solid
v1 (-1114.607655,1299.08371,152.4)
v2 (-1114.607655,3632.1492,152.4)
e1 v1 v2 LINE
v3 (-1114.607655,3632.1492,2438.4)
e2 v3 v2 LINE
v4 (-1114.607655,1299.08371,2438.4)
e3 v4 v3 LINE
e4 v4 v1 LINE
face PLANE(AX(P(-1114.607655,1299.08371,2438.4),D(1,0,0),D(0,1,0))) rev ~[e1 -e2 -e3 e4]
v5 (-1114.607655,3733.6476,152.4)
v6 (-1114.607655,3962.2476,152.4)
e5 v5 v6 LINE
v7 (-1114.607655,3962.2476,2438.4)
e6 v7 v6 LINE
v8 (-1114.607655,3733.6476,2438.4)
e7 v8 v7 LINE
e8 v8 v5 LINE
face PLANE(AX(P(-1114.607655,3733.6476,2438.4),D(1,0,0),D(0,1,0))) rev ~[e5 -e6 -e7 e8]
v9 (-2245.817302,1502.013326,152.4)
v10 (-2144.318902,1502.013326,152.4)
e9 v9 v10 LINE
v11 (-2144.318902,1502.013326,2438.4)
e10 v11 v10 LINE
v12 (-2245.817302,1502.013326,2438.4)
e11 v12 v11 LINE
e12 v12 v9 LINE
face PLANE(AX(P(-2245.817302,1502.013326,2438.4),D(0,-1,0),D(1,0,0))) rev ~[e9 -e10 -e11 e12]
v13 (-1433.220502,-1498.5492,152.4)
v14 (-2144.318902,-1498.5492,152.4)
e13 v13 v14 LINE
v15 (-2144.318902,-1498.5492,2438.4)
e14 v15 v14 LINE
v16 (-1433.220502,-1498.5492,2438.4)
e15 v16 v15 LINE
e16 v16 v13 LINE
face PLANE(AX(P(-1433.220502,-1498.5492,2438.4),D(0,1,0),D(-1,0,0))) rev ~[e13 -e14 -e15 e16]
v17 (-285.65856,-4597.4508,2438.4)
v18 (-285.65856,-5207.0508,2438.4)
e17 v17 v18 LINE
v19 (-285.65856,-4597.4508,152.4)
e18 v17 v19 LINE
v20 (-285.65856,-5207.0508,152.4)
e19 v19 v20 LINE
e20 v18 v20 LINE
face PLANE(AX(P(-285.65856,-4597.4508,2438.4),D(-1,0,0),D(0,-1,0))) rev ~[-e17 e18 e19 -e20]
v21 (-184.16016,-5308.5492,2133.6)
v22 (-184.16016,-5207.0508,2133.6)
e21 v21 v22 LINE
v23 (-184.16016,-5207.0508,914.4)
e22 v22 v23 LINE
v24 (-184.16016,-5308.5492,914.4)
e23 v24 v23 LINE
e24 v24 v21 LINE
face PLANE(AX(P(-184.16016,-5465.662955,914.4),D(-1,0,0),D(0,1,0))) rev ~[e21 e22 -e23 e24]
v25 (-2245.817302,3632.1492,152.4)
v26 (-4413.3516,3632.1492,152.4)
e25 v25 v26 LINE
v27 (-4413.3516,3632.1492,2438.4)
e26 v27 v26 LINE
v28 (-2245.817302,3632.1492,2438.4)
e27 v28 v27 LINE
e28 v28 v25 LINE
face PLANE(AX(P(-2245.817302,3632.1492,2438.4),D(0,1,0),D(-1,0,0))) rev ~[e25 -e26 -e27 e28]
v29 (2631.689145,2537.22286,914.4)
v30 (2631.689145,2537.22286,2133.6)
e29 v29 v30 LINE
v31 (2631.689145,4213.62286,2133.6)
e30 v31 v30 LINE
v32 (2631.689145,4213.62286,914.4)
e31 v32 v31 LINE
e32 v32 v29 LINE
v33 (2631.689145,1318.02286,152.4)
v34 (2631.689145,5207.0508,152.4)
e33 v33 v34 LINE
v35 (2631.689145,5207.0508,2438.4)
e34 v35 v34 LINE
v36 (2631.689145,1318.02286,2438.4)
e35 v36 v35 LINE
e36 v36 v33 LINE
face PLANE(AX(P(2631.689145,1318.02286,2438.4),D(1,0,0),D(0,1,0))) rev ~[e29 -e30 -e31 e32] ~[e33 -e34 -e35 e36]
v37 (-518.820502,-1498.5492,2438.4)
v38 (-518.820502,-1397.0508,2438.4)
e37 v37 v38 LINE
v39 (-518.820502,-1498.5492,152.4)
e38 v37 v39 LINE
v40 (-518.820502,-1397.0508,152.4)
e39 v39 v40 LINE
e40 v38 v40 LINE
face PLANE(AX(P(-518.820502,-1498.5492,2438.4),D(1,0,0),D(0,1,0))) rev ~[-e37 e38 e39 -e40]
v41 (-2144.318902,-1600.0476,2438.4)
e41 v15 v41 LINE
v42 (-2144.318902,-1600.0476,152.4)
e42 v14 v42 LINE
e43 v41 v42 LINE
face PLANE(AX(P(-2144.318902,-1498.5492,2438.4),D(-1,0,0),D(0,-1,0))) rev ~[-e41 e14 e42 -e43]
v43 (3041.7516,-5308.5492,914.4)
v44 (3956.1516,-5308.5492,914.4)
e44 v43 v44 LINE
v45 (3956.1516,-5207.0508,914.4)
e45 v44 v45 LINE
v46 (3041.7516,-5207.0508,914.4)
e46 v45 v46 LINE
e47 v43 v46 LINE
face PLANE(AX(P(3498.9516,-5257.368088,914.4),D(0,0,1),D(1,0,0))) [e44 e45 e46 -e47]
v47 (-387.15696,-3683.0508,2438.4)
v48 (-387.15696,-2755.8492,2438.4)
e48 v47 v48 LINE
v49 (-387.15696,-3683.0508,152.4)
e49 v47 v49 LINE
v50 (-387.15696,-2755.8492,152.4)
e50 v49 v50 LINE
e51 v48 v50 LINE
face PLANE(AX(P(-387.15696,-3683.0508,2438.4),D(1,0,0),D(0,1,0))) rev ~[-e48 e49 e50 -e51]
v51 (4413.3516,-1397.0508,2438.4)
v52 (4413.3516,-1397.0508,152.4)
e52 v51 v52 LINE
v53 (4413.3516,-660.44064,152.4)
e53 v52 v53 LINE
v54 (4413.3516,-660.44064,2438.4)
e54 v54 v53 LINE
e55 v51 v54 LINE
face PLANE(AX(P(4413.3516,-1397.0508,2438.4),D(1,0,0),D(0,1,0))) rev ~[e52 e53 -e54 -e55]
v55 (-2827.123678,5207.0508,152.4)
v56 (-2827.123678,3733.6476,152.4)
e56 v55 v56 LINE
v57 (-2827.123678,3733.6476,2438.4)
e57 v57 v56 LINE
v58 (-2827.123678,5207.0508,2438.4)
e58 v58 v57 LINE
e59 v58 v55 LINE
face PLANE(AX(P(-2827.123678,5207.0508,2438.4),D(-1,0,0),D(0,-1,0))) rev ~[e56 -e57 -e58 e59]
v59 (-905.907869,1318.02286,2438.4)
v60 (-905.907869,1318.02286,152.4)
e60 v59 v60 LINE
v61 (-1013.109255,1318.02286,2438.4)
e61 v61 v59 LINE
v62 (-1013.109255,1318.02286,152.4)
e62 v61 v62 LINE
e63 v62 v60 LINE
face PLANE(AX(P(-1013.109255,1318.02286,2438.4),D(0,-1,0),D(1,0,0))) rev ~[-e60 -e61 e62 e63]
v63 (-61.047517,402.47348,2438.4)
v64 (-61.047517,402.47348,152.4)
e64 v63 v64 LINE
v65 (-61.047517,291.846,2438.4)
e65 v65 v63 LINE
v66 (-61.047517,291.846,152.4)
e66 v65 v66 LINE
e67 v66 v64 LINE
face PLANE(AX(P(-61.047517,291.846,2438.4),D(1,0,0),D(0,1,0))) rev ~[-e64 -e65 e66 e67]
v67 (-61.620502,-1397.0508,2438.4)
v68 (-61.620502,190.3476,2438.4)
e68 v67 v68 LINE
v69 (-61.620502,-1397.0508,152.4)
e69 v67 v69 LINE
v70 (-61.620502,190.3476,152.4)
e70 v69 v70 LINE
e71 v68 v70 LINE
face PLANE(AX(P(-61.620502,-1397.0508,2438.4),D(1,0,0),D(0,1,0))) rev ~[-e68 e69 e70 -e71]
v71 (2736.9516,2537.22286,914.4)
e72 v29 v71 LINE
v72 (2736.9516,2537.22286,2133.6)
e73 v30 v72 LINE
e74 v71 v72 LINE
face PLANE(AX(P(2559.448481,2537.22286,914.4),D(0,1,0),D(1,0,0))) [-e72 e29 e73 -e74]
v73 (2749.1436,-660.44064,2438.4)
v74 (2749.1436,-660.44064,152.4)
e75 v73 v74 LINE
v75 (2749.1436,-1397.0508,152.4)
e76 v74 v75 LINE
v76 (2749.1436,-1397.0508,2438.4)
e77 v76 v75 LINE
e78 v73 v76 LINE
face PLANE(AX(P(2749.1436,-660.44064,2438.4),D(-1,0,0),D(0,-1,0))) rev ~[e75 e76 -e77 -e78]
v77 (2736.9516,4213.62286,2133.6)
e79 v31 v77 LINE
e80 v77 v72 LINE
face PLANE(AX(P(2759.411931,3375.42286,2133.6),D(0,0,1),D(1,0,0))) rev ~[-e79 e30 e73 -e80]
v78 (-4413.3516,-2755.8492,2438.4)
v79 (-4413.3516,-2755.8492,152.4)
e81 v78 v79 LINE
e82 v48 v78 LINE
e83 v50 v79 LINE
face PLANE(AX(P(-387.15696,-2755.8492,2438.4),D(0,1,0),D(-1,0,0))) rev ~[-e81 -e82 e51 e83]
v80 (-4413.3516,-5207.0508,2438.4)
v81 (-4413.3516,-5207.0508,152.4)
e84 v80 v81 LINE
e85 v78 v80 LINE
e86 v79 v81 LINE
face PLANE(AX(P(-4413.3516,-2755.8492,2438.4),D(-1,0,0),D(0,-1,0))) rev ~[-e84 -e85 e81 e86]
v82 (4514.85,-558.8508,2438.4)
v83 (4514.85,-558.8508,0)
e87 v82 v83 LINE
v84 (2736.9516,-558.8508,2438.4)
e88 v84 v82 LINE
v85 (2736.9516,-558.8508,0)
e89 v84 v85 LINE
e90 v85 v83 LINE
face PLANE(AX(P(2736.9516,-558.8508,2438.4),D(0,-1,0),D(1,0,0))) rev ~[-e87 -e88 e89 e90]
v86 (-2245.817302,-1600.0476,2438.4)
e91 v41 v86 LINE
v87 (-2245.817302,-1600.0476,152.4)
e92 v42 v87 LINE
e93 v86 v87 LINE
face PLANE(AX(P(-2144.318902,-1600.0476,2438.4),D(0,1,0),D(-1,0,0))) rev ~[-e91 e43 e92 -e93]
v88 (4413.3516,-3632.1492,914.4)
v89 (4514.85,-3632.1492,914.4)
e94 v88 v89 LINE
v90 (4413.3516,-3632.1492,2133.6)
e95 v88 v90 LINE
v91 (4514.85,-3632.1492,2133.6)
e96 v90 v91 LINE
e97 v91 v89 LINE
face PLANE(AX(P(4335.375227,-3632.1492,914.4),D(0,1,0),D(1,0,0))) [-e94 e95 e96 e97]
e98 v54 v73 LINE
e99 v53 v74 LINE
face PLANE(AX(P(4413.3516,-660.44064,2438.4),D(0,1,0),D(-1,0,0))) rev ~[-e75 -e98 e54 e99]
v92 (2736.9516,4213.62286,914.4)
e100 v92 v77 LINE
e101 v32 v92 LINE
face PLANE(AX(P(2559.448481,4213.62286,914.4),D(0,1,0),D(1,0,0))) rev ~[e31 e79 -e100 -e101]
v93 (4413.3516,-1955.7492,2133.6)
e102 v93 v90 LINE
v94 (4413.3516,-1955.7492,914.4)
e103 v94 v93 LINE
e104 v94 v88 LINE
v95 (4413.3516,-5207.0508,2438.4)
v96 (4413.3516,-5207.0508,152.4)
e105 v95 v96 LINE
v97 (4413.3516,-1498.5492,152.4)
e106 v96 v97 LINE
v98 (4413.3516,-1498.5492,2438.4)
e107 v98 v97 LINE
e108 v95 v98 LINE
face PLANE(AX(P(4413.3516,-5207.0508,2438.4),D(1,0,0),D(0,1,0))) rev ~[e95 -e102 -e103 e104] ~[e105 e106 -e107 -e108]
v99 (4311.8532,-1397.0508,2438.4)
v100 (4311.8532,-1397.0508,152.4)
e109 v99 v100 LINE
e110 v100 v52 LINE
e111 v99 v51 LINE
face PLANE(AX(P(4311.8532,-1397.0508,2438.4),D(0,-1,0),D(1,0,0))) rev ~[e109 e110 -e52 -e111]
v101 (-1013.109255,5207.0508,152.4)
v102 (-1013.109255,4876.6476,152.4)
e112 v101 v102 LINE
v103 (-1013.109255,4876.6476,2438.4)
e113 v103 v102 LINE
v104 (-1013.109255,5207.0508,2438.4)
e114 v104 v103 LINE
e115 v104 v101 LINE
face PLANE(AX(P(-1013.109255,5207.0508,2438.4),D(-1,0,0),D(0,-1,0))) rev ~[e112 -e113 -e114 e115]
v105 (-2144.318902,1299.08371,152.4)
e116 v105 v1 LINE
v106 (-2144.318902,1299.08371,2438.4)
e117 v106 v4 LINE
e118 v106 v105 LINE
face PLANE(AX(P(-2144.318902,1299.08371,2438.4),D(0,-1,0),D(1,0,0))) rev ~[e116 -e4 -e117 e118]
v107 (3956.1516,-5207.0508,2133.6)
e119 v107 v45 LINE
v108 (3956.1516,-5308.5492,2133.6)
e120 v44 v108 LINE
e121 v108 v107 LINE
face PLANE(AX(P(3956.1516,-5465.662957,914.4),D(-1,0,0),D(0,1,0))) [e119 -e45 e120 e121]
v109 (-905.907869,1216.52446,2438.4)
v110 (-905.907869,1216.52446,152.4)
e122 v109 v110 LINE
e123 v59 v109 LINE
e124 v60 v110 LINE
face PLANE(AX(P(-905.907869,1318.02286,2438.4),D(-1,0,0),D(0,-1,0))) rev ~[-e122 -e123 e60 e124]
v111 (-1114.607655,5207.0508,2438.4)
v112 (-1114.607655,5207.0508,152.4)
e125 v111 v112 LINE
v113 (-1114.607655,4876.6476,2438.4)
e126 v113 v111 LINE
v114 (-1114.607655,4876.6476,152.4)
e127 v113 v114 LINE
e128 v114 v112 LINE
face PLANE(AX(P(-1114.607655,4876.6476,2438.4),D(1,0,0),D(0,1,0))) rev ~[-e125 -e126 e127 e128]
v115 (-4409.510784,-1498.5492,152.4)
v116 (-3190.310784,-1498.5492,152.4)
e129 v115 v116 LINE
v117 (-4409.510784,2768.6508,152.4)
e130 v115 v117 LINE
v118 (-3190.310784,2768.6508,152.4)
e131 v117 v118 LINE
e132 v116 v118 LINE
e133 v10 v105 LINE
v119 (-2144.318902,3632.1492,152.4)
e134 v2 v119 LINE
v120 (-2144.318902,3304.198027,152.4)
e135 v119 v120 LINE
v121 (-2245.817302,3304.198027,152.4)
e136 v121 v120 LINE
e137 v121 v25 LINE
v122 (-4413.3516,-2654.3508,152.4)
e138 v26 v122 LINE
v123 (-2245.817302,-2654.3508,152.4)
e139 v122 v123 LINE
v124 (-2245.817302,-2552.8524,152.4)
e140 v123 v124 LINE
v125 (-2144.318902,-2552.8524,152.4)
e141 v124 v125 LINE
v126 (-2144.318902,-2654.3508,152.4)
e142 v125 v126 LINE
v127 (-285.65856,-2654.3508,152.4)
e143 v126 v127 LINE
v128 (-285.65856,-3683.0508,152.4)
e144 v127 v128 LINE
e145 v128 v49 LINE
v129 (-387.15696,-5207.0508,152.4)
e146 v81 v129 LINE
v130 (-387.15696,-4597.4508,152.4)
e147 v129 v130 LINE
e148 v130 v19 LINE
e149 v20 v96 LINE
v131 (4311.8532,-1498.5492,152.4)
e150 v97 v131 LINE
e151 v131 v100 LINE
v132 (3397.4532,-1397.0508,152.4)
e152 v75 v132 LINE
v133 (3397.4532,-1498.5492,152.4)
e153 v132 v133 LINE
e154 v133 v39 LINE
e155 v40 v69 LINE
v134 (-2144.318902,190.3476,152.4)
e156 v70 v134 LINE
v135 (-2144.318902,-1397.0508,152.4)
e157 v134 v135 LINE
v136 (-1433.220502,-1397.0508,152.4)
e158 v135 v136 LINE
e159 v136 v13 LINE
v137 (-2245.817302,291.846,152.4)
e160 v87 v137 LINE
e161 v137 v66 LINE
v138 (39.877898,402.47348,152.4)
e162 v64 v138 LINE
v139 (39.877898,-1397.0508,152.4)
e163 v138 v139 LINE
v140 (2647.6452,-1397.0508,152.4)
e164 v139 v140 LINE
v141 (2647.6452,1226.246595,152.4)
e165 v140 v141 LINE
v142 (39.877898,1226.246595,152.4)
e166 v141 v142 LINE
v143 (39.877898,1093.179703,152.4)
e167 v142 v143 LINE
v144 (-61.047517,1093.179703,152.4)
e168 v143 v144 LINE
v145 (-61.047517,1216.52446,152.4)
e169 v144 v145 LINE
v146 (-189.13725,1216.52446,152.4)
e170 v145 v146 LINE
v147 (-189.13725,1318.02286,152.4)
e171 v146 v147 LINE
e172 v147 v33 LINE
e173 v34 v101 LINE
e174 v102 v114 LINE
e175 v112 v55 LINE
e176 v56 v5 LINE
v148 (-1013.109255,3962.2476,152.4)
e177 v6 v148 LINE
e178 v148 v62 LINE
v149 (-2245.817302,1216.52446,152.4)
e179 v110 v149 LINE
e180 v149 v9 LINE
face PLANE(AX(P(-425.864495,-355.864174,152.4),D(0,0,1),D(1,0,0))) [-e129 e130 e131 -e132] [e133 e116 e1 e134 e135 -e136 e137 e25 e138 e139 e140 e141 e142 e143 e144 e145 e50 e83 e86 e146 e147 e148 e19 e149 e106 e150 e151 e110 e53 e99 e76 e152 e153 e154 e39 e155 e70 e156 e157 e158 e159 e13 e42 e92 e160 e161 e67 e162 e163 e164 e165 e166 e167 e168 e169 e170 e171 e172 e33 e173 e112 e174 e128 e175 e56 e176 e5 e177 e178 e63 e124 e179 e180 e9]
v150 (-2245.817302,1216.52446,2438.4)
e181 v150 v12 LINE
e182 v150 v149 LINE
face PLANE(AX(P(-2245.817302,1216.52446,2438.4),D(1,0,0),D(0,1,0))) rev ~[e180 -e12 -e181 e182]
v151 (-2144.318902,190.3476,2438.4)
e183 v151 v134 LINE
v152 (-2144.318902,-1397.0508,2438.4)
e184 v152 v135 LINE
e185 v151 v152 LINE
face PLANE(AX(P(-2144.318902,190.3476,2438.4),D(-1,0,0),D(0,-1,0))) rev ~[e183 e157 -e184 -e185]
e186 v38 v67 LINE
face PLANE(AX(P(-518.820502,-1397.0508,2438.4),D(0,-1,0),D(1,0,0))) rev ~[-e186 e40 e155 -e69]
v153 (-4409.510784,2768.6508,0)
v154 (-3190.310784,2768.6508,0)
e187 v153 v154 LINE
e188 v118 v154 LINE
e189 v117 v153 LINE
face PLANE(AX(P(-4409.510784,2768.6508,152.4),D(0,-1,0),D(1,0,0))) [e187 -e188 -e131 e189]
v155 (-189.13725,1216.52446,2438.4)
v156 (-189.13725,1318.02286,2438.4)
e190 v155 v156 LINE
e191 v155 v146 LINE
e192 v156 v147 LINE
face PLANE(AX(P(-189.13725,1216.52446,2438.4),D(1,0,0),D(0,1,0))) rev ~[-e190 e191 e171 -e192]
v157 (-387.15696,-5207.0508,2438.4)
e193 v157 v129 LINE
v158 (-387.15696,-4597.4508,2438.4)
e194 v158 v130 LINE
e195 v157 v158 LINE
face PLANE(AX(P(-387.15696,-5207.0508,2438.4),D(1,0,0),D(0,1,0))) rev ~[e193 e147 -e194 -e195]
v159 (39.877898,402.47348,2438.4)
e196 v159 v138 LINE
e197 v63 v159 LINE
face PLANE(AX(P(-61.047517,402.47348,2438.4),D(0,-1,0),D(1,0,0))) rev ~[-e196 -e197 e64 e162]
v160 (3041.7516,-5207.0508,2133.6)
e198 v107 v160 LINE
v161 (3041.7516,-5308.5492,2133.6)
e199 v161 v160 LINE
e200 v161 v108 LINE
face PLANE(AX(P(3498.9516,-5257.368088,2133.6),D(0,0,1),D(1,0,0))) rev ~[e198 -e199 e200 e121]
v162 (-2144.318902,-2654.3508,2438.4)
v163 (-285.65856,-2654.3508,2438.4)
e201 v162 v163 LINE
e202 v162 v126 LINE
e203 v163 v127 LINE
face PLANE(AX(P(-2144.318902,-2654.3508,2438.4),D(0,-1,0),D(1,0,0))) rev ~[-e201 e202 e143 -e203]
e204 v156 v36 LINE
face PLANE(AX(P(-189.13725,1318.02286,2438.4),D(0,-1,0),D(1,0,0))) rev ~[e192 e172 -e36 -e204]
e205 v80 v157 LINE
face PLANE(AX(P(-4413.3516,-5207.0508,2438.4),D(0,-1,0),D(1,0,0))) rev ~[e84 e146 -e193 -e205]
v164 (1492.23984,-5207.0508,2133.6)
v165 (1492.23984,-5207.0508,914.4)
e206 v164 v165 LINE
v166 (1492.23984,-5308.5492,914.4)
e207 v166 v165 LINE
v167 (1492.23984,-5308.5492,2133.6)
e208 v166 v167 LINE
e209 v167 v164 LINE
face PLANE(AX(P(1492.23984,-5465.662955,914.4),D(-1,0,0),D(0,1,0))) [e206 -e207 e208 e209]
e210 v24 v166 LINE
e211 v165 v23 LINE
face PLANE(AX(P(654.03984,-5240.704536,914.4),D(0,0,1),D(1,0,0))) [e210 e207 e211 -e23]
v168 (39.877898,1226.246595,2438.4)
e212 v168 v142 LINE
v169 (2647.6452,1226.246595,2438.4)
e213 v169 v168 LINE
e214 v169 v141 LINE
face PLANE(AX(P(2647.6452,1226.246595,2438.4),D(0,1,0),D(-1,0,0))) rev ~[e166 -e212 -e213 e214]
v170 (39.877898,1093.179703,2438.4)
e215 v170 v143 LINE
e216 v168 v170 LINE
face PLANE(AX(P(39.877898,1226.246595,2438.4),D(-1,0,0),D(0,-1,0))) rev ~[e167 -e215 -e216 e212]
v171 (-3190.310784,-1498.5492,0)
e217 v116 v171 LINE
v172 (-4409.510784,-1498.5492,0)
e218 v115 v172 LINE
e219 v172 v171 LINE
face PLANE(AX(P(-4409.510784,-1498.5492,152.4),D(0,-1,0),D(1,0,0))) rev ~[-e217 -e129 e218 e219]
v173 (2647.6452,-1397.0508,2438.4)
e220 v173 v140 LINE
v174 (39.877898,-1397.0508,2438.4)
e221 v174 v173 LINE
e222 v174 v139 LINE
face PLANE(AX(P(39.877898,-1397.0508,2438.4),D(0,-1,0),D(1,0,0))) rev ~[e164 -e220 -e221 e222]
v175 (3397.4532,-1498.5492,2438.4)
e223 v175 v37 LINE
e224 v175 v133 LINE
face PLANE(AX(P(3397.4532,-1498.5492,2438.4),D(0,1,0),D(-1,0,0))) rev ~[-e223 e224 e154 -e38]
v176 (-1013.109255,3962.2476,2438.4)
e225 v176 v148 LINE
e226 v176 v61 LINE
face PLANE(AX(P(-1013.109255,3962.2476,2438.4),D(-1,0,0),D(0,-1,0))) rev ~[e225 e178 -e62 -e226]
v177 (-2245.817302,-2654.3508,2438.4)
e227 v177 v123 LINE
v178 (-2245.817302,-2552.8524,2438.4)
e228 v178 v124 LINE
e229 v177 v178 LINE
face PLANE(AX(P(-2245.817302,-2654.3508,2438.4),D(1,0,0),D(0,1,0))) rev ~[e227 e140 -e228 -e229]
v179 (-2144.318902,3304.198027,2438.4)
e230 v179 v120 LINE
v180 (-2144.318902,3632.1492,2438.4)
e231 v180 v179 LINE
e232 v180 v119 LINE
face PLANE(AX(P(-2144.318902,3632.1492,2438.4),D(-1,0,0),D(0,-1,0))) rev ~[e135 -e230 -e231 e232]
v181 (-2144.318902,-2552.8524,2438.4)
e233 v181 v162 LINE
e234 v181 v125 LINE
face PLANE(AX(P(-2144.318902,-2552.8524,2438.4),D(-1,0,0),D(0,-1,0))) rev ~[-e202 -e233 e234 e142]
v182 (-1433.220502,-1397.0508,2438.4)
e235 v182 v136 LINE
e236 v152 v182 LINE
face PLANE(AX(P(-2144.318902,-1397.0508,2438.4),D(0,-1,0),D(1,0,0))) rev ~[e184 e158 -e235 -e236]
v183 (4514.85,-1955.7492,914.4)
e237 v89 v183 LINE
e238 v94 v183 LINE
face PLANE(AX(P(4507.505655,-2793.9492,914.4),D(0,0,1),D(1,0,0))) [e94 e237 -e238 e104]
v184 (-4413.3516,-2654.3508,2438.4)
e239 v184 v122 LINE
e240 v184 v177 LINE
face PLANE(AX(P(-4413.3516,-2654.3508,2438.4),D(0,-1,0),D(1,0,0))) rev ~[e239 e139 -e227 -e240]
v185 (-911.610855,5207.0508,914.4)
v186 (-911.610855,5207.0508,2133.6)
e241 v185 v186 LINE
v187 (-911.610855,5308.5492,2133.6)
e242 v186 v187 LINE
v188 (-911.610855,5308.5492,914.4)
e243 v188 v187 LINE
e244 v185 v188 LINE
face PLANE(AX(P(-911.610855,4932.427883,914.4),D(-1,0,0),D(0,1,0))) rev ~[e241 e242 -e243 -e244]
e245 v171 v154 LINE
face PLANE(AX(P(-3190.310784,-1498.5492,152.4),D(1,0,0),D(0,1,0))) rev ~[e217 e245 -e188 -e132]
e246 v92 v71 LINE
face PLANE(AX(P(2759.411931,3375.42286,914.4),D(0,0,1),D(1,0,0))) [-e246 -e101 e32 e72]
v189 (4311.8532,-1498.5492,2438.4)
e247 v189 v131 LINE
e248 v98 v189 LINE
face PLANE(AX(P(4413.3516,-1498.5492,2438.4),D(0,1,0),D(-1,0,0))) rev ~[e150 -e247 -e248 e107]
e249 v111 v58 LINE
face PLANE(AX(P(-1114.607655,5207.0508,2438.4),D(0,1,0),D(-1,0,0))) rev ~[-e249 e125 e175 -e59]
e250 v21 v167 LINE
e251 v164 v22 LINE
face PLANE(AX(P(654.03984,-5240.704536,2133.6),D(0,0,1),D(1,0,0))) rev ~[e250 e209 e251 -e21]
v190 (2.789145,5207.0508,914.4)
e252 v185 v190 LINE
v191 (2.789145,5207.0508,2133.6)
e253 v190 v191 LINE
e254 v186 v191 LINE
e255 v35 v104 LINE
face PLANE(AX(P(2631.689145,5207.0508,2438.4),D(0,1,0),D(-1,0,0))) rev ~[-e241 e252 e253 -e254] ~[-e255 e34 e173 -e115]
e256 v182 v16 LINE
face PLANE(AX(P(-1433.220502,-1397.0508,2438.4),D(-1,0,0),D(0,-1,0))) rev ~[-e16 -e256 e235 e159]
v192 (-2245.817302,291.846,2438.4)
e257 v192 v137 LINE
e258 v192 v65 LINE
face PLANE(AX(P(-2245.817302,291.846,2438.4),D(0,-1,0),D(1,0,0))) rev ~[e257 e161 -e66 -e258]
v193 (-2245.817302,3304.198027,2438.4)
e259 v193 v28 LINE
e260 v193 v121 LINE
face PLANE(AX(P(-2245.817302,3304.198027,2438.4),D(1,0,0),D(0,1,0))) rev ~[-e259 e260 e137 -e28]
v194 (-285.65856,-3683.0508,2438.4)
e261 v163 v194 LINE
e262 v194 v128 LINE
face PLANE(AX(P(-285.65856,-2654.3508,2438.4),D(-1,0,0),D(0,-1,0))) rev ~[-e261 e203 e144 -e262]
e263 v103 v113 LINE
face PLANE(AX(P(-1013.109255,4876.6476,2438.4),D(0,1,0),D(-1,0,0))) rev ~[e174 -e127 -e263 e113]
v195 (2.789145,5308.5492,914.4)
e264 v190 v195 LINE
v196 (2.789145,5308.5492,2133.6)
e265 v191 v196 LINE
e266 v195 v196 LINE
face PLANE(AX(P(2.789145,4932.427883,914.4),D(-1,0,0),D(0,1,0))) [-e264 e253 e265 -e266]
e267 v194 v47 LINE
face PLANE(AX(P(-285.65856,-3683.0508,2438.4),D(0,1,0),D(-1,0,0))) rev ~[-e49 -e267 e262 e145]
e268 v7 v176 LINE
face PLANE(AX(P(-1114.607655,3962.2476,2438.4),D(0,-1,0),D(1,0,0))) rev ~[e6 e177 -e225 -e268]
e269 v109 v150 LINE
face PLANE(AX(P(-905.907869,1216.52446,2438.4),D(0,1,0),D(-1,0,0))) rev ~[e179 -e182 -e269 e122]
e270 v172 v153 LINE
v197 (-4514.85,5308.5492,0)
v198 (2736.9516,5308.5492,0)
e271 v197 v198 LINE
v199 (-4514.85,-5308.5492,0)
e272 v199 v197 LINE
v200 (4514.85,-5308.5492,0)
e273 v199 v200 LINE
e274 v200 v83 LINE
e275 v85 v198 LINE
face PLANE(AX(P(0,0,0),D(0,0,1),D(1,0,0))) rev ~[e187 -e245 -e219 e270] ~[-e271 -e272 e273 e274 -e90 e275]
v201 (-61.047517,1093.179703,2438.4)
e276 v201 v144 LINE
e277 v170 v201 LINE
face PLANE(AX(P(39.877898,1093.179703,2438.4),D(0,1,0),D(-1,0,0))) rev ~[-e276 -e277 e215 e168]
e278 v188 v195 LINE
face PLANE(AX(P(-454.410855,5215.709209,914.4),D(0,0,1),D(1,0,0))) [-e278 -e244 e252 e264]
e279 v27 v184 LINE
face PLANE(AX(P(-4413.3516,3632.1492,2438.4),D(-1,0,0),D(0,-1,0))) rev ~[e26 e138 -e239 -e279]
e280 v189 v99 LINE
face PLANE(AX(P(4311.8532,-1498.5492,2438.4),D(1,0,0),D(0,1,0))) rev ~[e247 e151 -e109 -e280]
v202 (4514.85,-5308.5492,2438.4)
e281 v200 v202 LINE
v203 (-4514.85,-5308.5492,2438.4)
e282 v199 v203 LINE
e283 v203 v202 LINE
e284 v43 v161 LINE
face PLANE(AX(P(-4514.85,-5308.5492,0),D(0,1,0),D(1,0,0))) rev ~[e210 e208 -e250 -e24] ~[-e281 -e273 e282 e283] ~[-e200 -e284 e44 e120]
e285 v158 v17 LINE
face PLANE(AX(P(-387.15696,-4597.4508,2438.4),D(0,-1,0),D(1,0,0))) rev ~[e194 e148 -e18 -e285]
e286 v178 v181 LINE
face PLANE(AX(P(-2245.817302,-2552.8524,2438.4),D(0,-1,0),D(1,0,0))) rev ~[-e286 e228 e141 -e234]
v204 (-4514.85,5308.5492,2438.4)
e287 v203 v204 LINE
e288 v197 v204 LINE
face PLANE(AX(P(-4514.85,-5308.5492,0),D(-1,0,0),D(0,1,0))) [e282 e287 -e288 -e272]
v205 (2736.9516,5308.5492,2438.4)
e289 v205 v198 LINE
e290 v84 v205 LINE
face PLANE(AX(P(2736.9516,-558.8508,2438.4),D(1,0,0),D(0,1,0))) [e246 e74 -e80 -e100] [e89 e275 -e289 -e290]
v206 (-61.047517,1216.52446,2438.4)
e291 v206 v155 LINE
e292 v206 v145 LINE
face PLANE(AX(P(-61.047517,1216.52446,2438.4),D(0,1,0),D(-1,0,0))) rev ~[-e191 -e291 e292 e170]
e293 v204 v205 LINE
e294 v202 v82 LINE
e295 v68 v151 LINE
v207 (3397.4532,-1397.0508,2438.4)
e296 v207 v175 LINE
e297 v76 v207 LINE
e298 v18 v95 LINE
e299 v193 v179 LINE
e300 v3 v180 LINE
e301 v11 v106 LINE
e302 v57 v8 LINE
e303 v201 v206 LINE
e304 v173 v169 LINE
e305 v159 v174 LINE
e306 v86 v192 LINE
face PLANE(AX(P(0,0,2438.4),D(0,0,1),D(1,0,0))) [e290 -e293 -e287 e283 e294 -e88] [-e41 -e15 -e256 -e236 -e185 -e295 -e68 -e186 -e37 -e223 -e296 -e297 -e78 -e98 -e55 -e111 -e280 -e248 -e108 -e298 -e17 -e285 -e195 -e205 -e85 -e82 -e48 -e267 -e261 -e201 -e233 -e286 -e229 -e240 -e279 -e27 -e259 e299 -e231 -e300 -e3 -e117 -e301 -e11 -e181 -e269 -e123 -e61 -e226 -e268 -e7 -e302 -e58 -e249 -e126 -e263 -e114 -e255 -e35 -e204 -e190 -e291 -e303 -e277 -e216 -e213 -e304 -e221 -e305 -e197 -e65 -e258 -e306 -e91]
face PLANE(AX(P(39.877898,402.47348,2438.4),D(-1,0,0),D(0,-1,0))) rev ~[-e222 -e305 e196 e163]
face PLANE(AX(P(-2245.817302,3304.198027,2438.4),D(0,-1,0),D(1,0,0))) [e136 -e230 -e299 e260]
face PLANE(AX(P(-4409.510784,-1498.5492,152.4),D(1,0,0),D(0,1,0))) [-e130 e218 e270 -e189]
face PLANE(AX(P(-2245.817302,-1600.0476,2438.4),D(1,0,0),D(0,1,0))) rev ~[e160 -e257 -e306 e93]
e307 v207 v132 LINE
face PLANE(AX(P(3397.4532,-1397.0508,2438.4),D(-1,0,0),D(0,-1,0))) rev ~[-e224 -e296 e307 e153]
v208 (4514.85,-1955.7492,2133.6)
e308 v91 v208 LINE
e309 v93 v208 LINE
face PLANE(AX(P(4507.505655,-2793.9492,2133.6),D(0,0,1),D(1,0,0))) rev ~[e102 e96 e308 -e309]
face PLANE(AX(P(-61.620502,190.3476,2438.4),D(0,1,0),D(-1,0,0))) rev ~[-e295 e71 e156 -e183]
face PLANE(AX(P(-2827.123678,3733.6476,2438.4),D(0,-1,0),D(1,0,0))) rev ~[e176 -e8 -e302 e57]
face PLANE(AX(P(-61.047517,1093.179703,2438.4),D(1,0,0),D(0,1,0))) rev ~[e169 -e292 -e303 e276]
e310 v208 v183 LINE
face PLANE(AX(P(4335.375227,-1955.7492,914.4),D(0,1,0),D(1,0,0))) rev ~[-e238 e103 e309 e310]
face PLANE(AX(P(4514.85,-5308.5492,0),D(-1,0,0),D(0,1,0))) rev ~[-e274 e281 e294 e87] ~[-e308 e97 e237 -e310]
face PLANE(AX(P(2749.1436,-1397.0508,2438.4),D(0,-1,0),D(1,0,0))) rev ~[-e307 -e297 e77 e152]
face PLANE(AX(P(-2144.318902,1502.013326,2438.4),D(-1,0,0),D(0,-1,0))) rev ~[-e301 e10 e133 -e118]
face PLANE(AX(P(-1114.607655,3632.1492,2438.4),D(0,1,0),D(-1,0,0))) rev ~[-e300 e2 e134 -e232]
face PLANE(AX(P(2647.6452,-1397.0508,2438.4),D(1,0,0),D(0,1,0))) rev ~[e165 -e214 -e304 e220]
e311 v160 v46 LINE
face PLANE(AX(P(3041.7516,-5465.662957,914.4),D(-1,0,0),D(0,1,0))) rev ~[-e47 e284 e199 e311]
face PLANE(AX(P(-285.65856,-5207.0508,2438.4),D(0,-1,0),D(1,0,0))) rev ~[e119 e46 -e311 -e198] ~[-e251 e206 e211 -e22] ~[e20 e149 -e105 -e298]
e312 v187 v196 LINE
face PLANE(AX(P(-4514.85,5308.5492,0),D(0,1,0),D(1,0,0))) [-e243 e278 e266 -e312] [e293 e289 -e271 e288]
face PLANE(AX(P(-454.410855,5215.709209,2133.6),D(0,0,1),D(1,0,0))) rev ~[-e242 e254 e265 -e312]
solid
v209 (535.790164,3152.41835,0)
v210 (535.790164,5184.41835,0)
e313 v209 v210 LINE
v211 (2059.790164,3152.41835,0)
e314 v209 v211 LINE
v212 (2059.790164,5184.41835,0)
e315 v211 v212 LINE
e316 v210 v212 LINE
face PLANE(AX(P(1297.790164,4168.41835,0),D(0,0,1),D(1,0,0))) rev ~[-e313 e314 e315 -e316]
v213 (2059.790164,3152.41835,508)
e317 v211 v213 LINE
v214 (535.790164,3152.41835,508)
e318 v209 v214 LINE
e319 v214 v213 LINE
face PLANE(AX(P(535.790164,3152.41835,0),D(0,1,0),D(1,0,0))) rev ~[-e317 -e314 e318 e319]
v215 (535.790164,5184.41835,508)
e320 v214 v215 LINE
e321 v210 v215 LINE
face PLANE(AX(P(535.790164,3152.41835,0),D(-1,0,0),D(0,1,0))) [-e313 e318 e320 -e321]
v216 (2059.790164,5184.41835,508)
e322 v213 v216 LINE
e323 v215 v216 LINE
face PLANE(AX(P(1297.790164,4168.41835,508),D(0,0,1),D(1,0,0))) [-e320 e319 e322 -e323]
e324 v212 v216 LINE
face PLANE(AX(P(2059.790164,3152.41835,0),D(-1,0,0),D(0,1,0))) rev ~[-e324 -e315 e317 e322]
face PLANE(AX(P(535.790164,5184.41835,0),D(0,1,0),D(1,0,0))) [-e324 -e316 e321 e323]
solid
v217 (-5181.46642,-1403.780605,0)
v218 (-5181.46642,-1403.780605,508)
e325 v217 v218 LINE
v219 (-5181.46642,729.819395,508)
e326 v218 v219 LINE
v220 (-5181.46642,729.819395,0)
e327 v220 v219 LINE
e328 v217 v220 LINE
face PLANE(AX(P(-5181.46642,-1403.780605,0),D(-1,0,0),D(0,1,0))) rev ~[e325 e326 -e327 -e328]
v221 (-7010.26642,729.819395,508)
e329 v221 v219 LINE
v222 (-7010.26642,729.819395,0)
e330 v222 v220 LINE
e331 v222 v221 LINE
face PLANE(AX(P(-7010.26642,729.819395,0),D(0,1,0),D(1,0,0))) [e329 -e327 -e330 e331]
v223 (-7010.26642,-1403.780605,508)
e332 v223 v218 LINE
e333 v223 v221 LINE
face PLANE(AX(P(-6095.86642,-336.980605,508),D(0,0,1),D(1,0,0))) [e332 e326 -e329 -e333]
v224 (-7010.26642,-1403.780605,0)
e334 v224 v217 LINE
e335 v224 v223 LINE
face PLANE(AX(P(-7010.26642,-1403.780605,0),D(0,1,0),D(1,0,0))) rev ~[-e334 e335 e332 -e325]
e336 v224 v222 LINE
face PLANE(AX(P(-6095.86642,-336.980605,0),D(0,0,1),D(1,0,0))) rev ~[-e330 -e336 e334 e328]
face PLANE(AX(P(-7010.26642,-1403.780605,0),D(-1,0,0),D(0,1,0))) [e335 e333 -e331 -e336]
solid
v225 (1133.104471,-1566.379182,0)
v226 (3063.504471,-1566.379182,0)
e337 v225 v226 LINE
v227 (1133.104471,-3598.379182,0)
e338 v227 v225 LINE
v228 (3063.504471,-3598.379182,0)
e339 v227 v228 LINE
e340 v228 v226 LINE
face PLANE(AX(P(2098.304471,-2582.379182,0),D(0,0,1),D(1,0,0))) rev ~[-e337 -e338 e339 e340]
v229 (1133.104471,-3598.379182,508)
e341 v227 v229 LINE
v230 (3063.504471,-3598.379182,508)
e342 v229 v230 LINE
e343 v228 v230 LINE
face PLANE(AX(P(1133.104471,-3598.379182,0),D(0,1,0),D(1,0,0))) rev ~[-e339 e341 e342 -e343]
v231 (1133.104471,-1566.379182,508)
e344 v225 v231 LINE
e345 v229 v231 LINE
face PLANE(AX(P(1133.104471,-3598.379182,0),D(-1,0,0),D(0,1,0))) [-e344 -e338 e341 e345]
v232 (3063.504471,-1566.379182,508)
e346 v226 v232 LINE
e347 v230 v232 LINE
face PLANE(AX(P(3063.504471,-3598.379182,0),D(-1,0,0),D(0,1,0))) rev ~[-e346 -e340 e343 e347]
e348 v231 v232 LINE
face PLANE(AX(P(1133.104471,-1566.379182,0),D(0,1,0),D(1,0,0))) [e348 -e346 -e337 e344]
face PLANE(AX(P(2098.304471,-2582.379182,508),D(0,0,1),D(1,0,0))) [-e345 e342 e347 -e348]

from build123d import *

# Parameters (mm, degrees)
F0_W      = 9029.7
F0_H      = 10617.0984
F1_DEPTH  = 2438.4
F2_W      = 1777.8984
F2_H      = 5867.4
F3_DEPTH  = 3048
F4_W      = 101.4984
F4_H      = 1802.184701
F5_DEPTH  = 2286
F7_W      = 344.260856
F7_H      = 1676.4
F7_W_2    = 1676.4
F7_H_2    = 449.916839
F7_W_3    = 914.4
F7_H_3    = 416.589737
F7_W_4    = 399.9269
F7_H_4    = 566.562653
F8_DEPTH  = 1219.2
F9_W      = 1219.2
F9_H      = 4267.2
F10_DEPTH = 1524
F11_W     = 1524
F11_H     = 2032
F12_DEPTH = 508
F13_W     = 1930.4
F13_H     = 2032
F14_DEPTH = 508
F15_W     = 1828.8
F15_H     = 2133.6
F16_DEPTH = 508


with BuildPart() as f1:
    # F0 (on Top) → F1 (new body)
    with BuildSketch(Plane.XY):
        Rectangle(F0_W, F0_H)
    extrude(amount=F1_DEPTH)

    # F2 (on face) → F3 (cut)
    with BuildSketch(Plane.XY.offset(2438.4)):
        with Locations((3625.9008, 2374.8492)):
            Rectangle(F2_W, F2_H)
    extrude(amount=-F3_DEPTH, mode=Mode.SUBTRACT)

    # F4 (on face) → F5 (cut)
    with BuildSketch(Plane.XY.offset(2438.4)):
        Polygon((-285.65856, -5207.0508), (4413.3516, -5207.0508), (4413.3516, -3784.5492), (4413.3516, -2108.1492), (4413.3516, -1498.5492), (4311.8532, -1498.5492), (4311.8532, -1397.0508), (4413.3516, -1397.0508), (4413.3516, -660.44064), (2749.1436, -660.44064), (2749.1436, -1397.0508), (3397.4532, -1397.0508), (3397.4532, -1498.5492), (-285.65856, -1498.5492), (-518.820502, -1498.5492), (-518.820502, -1397.0508), (-61.620502, -1397.0508), (-61.620502, 190.3476), (-2144.318902, 190.3476), (-2144.318902, -1397.0508), (-1433.220502, -1397.0508), (-1433.220502, -1498.5492), (-2144.318902, -1498.5492), (-2144.318902, -1600.0476), (-2245.817302, -1600.0476), (-2245.817302, 291.846), (-2152.462959, 291.846), (-61.047517, 291.846), (-61.047517, 402.47348), (39.877898, 402.47348), (39.877898, -1397.0508), (2647.6452, -1397.0508), (2647.6452, 1226.246595), (39.877898, 1226.246595), (39.877898, 1093.179703), (-61.047517, 1093.179703), (-61.047517, 1216.52446), (-189.13725, 1216.52446), (-189.13725, 1318.02286), (2631.689145, 1318.02286), (2631.689145, 5207.0508), (-1013.109255, 5207.0508), (-1013.109255, 4876.6476), (-1114.607655, 4876.6476), (-1114.607655, 5207.0508), (-2827.123678, 5207.0508), (-2827.123678, 3733.6476), (-1114.607655, 3733.6476), (-1114.607655, 3962.2476), (-1013.109255, 3962.2476), (-1013.109255, 1318.02286), (-905.907869, 1318.02286), (-905.907869, 1216.52446), (-2152.462959, 1216.52446), (-2245.817302, 1216.52446), (-2245.817302, 1502.013326), (-2245.817302, 3304.198027), (-2245.817302, 3632.1492), (-4413.3516, 3632.1492), (-4413.3516, -2654.3508), (-2245.817302, -2654.3508), (-2245.817302, -2552.8524), (-2144.318902, -2552.8524), (-2144.318902, -2654.3508), (-285.65856, -2654.3508), (-285.65856, -3683.0508), (-387.15696, -3683.0508), (-387.15696, -2755.8492), (-4413.3516, -2755.8492), (-4413.3516, -5207.0508), (-387.15696, -5207.0508), (-387.15696, -4597.4508), (-285.65856, -4597.4508), align=None)
        with Locations((-2195.068102, 2403.105676)):
            Rectangle(F4_W, F4_H)
        Polygon((-2144.318902, 3632.1492), (-2144.318902, 3304.198027), (-2144.318902, 1502.013326), (-2144.318902, 1299.08371), (-1114.607655, 1299.08371), (-1114.607655, 3632.1492), align=None)
    extrude(amount=-F5_DEPTH, mode=Mode.SUBTRACT)

    # F7 (on offset) → F8 (cut)
    with BuildSketch(Plane.XY.offset(914.4)):
        with Locations((4507.505655, -2793.9492)):
            Rectangle(F7_W, F7_H)
        with Locations((654.03984, -5240.704536)):
            Rectangle(F7_W_2, F7_H_2)
        with Locations((3498.9516, -5257.368088)):
            Rectangle(F7_W_3, F7_H_3)
        with Locations((2759.411931, 3375.42286)):
            Rectangle(F7_W_4, F7_H)
        with Locations((-454.410855, 5215.709209)):
            Rectangle(F7_W_3, F7_H_4)
    extrude(amount=F8_DEPTH, mode=Mode.SUBTRACT)

    # F9 (on face) → F10 (cut)
    with BuildSketch(Plane.XY.offset(152.4)):
        with Locations((-3799.910784, 635.0508)):
            Rectangle(F9_W, F9_H)
    extrude(amount=-F10_DEPTH, mode=Mode.SUBTRACT)


with BuildPart() as f12:
    # F11 (on Top) → F12 (new body)
    with BuildSketch(Plane.XY):
        with Locations((1297.790164, 4168.41835)):
            Rectangle(F11_W, F11_H)
    extrude(amount=F12_DEPTH)


with BuildPart() as f14:
    # F13 (on Top) → F14 (new body)
    with BuildSketch(Plane.XY):
        with Locations((2098.304471, -2582.379182)):
            Rectangle(F13_W, F13_H)
    extrude(amount=F14_DEPTH)


with BuildPart() as f16:
    # F15 (on Top) → F16 (new body)
    with BuildSketch(Plane.XY):
        with Locations((-6095.86642, -336.980605)):
            Rectangle(F15_W, F15_H)
    extrude(amount=F16_DEPTH)


solid = Compound([f1.part, f12.part, f14.part, f16.part])
